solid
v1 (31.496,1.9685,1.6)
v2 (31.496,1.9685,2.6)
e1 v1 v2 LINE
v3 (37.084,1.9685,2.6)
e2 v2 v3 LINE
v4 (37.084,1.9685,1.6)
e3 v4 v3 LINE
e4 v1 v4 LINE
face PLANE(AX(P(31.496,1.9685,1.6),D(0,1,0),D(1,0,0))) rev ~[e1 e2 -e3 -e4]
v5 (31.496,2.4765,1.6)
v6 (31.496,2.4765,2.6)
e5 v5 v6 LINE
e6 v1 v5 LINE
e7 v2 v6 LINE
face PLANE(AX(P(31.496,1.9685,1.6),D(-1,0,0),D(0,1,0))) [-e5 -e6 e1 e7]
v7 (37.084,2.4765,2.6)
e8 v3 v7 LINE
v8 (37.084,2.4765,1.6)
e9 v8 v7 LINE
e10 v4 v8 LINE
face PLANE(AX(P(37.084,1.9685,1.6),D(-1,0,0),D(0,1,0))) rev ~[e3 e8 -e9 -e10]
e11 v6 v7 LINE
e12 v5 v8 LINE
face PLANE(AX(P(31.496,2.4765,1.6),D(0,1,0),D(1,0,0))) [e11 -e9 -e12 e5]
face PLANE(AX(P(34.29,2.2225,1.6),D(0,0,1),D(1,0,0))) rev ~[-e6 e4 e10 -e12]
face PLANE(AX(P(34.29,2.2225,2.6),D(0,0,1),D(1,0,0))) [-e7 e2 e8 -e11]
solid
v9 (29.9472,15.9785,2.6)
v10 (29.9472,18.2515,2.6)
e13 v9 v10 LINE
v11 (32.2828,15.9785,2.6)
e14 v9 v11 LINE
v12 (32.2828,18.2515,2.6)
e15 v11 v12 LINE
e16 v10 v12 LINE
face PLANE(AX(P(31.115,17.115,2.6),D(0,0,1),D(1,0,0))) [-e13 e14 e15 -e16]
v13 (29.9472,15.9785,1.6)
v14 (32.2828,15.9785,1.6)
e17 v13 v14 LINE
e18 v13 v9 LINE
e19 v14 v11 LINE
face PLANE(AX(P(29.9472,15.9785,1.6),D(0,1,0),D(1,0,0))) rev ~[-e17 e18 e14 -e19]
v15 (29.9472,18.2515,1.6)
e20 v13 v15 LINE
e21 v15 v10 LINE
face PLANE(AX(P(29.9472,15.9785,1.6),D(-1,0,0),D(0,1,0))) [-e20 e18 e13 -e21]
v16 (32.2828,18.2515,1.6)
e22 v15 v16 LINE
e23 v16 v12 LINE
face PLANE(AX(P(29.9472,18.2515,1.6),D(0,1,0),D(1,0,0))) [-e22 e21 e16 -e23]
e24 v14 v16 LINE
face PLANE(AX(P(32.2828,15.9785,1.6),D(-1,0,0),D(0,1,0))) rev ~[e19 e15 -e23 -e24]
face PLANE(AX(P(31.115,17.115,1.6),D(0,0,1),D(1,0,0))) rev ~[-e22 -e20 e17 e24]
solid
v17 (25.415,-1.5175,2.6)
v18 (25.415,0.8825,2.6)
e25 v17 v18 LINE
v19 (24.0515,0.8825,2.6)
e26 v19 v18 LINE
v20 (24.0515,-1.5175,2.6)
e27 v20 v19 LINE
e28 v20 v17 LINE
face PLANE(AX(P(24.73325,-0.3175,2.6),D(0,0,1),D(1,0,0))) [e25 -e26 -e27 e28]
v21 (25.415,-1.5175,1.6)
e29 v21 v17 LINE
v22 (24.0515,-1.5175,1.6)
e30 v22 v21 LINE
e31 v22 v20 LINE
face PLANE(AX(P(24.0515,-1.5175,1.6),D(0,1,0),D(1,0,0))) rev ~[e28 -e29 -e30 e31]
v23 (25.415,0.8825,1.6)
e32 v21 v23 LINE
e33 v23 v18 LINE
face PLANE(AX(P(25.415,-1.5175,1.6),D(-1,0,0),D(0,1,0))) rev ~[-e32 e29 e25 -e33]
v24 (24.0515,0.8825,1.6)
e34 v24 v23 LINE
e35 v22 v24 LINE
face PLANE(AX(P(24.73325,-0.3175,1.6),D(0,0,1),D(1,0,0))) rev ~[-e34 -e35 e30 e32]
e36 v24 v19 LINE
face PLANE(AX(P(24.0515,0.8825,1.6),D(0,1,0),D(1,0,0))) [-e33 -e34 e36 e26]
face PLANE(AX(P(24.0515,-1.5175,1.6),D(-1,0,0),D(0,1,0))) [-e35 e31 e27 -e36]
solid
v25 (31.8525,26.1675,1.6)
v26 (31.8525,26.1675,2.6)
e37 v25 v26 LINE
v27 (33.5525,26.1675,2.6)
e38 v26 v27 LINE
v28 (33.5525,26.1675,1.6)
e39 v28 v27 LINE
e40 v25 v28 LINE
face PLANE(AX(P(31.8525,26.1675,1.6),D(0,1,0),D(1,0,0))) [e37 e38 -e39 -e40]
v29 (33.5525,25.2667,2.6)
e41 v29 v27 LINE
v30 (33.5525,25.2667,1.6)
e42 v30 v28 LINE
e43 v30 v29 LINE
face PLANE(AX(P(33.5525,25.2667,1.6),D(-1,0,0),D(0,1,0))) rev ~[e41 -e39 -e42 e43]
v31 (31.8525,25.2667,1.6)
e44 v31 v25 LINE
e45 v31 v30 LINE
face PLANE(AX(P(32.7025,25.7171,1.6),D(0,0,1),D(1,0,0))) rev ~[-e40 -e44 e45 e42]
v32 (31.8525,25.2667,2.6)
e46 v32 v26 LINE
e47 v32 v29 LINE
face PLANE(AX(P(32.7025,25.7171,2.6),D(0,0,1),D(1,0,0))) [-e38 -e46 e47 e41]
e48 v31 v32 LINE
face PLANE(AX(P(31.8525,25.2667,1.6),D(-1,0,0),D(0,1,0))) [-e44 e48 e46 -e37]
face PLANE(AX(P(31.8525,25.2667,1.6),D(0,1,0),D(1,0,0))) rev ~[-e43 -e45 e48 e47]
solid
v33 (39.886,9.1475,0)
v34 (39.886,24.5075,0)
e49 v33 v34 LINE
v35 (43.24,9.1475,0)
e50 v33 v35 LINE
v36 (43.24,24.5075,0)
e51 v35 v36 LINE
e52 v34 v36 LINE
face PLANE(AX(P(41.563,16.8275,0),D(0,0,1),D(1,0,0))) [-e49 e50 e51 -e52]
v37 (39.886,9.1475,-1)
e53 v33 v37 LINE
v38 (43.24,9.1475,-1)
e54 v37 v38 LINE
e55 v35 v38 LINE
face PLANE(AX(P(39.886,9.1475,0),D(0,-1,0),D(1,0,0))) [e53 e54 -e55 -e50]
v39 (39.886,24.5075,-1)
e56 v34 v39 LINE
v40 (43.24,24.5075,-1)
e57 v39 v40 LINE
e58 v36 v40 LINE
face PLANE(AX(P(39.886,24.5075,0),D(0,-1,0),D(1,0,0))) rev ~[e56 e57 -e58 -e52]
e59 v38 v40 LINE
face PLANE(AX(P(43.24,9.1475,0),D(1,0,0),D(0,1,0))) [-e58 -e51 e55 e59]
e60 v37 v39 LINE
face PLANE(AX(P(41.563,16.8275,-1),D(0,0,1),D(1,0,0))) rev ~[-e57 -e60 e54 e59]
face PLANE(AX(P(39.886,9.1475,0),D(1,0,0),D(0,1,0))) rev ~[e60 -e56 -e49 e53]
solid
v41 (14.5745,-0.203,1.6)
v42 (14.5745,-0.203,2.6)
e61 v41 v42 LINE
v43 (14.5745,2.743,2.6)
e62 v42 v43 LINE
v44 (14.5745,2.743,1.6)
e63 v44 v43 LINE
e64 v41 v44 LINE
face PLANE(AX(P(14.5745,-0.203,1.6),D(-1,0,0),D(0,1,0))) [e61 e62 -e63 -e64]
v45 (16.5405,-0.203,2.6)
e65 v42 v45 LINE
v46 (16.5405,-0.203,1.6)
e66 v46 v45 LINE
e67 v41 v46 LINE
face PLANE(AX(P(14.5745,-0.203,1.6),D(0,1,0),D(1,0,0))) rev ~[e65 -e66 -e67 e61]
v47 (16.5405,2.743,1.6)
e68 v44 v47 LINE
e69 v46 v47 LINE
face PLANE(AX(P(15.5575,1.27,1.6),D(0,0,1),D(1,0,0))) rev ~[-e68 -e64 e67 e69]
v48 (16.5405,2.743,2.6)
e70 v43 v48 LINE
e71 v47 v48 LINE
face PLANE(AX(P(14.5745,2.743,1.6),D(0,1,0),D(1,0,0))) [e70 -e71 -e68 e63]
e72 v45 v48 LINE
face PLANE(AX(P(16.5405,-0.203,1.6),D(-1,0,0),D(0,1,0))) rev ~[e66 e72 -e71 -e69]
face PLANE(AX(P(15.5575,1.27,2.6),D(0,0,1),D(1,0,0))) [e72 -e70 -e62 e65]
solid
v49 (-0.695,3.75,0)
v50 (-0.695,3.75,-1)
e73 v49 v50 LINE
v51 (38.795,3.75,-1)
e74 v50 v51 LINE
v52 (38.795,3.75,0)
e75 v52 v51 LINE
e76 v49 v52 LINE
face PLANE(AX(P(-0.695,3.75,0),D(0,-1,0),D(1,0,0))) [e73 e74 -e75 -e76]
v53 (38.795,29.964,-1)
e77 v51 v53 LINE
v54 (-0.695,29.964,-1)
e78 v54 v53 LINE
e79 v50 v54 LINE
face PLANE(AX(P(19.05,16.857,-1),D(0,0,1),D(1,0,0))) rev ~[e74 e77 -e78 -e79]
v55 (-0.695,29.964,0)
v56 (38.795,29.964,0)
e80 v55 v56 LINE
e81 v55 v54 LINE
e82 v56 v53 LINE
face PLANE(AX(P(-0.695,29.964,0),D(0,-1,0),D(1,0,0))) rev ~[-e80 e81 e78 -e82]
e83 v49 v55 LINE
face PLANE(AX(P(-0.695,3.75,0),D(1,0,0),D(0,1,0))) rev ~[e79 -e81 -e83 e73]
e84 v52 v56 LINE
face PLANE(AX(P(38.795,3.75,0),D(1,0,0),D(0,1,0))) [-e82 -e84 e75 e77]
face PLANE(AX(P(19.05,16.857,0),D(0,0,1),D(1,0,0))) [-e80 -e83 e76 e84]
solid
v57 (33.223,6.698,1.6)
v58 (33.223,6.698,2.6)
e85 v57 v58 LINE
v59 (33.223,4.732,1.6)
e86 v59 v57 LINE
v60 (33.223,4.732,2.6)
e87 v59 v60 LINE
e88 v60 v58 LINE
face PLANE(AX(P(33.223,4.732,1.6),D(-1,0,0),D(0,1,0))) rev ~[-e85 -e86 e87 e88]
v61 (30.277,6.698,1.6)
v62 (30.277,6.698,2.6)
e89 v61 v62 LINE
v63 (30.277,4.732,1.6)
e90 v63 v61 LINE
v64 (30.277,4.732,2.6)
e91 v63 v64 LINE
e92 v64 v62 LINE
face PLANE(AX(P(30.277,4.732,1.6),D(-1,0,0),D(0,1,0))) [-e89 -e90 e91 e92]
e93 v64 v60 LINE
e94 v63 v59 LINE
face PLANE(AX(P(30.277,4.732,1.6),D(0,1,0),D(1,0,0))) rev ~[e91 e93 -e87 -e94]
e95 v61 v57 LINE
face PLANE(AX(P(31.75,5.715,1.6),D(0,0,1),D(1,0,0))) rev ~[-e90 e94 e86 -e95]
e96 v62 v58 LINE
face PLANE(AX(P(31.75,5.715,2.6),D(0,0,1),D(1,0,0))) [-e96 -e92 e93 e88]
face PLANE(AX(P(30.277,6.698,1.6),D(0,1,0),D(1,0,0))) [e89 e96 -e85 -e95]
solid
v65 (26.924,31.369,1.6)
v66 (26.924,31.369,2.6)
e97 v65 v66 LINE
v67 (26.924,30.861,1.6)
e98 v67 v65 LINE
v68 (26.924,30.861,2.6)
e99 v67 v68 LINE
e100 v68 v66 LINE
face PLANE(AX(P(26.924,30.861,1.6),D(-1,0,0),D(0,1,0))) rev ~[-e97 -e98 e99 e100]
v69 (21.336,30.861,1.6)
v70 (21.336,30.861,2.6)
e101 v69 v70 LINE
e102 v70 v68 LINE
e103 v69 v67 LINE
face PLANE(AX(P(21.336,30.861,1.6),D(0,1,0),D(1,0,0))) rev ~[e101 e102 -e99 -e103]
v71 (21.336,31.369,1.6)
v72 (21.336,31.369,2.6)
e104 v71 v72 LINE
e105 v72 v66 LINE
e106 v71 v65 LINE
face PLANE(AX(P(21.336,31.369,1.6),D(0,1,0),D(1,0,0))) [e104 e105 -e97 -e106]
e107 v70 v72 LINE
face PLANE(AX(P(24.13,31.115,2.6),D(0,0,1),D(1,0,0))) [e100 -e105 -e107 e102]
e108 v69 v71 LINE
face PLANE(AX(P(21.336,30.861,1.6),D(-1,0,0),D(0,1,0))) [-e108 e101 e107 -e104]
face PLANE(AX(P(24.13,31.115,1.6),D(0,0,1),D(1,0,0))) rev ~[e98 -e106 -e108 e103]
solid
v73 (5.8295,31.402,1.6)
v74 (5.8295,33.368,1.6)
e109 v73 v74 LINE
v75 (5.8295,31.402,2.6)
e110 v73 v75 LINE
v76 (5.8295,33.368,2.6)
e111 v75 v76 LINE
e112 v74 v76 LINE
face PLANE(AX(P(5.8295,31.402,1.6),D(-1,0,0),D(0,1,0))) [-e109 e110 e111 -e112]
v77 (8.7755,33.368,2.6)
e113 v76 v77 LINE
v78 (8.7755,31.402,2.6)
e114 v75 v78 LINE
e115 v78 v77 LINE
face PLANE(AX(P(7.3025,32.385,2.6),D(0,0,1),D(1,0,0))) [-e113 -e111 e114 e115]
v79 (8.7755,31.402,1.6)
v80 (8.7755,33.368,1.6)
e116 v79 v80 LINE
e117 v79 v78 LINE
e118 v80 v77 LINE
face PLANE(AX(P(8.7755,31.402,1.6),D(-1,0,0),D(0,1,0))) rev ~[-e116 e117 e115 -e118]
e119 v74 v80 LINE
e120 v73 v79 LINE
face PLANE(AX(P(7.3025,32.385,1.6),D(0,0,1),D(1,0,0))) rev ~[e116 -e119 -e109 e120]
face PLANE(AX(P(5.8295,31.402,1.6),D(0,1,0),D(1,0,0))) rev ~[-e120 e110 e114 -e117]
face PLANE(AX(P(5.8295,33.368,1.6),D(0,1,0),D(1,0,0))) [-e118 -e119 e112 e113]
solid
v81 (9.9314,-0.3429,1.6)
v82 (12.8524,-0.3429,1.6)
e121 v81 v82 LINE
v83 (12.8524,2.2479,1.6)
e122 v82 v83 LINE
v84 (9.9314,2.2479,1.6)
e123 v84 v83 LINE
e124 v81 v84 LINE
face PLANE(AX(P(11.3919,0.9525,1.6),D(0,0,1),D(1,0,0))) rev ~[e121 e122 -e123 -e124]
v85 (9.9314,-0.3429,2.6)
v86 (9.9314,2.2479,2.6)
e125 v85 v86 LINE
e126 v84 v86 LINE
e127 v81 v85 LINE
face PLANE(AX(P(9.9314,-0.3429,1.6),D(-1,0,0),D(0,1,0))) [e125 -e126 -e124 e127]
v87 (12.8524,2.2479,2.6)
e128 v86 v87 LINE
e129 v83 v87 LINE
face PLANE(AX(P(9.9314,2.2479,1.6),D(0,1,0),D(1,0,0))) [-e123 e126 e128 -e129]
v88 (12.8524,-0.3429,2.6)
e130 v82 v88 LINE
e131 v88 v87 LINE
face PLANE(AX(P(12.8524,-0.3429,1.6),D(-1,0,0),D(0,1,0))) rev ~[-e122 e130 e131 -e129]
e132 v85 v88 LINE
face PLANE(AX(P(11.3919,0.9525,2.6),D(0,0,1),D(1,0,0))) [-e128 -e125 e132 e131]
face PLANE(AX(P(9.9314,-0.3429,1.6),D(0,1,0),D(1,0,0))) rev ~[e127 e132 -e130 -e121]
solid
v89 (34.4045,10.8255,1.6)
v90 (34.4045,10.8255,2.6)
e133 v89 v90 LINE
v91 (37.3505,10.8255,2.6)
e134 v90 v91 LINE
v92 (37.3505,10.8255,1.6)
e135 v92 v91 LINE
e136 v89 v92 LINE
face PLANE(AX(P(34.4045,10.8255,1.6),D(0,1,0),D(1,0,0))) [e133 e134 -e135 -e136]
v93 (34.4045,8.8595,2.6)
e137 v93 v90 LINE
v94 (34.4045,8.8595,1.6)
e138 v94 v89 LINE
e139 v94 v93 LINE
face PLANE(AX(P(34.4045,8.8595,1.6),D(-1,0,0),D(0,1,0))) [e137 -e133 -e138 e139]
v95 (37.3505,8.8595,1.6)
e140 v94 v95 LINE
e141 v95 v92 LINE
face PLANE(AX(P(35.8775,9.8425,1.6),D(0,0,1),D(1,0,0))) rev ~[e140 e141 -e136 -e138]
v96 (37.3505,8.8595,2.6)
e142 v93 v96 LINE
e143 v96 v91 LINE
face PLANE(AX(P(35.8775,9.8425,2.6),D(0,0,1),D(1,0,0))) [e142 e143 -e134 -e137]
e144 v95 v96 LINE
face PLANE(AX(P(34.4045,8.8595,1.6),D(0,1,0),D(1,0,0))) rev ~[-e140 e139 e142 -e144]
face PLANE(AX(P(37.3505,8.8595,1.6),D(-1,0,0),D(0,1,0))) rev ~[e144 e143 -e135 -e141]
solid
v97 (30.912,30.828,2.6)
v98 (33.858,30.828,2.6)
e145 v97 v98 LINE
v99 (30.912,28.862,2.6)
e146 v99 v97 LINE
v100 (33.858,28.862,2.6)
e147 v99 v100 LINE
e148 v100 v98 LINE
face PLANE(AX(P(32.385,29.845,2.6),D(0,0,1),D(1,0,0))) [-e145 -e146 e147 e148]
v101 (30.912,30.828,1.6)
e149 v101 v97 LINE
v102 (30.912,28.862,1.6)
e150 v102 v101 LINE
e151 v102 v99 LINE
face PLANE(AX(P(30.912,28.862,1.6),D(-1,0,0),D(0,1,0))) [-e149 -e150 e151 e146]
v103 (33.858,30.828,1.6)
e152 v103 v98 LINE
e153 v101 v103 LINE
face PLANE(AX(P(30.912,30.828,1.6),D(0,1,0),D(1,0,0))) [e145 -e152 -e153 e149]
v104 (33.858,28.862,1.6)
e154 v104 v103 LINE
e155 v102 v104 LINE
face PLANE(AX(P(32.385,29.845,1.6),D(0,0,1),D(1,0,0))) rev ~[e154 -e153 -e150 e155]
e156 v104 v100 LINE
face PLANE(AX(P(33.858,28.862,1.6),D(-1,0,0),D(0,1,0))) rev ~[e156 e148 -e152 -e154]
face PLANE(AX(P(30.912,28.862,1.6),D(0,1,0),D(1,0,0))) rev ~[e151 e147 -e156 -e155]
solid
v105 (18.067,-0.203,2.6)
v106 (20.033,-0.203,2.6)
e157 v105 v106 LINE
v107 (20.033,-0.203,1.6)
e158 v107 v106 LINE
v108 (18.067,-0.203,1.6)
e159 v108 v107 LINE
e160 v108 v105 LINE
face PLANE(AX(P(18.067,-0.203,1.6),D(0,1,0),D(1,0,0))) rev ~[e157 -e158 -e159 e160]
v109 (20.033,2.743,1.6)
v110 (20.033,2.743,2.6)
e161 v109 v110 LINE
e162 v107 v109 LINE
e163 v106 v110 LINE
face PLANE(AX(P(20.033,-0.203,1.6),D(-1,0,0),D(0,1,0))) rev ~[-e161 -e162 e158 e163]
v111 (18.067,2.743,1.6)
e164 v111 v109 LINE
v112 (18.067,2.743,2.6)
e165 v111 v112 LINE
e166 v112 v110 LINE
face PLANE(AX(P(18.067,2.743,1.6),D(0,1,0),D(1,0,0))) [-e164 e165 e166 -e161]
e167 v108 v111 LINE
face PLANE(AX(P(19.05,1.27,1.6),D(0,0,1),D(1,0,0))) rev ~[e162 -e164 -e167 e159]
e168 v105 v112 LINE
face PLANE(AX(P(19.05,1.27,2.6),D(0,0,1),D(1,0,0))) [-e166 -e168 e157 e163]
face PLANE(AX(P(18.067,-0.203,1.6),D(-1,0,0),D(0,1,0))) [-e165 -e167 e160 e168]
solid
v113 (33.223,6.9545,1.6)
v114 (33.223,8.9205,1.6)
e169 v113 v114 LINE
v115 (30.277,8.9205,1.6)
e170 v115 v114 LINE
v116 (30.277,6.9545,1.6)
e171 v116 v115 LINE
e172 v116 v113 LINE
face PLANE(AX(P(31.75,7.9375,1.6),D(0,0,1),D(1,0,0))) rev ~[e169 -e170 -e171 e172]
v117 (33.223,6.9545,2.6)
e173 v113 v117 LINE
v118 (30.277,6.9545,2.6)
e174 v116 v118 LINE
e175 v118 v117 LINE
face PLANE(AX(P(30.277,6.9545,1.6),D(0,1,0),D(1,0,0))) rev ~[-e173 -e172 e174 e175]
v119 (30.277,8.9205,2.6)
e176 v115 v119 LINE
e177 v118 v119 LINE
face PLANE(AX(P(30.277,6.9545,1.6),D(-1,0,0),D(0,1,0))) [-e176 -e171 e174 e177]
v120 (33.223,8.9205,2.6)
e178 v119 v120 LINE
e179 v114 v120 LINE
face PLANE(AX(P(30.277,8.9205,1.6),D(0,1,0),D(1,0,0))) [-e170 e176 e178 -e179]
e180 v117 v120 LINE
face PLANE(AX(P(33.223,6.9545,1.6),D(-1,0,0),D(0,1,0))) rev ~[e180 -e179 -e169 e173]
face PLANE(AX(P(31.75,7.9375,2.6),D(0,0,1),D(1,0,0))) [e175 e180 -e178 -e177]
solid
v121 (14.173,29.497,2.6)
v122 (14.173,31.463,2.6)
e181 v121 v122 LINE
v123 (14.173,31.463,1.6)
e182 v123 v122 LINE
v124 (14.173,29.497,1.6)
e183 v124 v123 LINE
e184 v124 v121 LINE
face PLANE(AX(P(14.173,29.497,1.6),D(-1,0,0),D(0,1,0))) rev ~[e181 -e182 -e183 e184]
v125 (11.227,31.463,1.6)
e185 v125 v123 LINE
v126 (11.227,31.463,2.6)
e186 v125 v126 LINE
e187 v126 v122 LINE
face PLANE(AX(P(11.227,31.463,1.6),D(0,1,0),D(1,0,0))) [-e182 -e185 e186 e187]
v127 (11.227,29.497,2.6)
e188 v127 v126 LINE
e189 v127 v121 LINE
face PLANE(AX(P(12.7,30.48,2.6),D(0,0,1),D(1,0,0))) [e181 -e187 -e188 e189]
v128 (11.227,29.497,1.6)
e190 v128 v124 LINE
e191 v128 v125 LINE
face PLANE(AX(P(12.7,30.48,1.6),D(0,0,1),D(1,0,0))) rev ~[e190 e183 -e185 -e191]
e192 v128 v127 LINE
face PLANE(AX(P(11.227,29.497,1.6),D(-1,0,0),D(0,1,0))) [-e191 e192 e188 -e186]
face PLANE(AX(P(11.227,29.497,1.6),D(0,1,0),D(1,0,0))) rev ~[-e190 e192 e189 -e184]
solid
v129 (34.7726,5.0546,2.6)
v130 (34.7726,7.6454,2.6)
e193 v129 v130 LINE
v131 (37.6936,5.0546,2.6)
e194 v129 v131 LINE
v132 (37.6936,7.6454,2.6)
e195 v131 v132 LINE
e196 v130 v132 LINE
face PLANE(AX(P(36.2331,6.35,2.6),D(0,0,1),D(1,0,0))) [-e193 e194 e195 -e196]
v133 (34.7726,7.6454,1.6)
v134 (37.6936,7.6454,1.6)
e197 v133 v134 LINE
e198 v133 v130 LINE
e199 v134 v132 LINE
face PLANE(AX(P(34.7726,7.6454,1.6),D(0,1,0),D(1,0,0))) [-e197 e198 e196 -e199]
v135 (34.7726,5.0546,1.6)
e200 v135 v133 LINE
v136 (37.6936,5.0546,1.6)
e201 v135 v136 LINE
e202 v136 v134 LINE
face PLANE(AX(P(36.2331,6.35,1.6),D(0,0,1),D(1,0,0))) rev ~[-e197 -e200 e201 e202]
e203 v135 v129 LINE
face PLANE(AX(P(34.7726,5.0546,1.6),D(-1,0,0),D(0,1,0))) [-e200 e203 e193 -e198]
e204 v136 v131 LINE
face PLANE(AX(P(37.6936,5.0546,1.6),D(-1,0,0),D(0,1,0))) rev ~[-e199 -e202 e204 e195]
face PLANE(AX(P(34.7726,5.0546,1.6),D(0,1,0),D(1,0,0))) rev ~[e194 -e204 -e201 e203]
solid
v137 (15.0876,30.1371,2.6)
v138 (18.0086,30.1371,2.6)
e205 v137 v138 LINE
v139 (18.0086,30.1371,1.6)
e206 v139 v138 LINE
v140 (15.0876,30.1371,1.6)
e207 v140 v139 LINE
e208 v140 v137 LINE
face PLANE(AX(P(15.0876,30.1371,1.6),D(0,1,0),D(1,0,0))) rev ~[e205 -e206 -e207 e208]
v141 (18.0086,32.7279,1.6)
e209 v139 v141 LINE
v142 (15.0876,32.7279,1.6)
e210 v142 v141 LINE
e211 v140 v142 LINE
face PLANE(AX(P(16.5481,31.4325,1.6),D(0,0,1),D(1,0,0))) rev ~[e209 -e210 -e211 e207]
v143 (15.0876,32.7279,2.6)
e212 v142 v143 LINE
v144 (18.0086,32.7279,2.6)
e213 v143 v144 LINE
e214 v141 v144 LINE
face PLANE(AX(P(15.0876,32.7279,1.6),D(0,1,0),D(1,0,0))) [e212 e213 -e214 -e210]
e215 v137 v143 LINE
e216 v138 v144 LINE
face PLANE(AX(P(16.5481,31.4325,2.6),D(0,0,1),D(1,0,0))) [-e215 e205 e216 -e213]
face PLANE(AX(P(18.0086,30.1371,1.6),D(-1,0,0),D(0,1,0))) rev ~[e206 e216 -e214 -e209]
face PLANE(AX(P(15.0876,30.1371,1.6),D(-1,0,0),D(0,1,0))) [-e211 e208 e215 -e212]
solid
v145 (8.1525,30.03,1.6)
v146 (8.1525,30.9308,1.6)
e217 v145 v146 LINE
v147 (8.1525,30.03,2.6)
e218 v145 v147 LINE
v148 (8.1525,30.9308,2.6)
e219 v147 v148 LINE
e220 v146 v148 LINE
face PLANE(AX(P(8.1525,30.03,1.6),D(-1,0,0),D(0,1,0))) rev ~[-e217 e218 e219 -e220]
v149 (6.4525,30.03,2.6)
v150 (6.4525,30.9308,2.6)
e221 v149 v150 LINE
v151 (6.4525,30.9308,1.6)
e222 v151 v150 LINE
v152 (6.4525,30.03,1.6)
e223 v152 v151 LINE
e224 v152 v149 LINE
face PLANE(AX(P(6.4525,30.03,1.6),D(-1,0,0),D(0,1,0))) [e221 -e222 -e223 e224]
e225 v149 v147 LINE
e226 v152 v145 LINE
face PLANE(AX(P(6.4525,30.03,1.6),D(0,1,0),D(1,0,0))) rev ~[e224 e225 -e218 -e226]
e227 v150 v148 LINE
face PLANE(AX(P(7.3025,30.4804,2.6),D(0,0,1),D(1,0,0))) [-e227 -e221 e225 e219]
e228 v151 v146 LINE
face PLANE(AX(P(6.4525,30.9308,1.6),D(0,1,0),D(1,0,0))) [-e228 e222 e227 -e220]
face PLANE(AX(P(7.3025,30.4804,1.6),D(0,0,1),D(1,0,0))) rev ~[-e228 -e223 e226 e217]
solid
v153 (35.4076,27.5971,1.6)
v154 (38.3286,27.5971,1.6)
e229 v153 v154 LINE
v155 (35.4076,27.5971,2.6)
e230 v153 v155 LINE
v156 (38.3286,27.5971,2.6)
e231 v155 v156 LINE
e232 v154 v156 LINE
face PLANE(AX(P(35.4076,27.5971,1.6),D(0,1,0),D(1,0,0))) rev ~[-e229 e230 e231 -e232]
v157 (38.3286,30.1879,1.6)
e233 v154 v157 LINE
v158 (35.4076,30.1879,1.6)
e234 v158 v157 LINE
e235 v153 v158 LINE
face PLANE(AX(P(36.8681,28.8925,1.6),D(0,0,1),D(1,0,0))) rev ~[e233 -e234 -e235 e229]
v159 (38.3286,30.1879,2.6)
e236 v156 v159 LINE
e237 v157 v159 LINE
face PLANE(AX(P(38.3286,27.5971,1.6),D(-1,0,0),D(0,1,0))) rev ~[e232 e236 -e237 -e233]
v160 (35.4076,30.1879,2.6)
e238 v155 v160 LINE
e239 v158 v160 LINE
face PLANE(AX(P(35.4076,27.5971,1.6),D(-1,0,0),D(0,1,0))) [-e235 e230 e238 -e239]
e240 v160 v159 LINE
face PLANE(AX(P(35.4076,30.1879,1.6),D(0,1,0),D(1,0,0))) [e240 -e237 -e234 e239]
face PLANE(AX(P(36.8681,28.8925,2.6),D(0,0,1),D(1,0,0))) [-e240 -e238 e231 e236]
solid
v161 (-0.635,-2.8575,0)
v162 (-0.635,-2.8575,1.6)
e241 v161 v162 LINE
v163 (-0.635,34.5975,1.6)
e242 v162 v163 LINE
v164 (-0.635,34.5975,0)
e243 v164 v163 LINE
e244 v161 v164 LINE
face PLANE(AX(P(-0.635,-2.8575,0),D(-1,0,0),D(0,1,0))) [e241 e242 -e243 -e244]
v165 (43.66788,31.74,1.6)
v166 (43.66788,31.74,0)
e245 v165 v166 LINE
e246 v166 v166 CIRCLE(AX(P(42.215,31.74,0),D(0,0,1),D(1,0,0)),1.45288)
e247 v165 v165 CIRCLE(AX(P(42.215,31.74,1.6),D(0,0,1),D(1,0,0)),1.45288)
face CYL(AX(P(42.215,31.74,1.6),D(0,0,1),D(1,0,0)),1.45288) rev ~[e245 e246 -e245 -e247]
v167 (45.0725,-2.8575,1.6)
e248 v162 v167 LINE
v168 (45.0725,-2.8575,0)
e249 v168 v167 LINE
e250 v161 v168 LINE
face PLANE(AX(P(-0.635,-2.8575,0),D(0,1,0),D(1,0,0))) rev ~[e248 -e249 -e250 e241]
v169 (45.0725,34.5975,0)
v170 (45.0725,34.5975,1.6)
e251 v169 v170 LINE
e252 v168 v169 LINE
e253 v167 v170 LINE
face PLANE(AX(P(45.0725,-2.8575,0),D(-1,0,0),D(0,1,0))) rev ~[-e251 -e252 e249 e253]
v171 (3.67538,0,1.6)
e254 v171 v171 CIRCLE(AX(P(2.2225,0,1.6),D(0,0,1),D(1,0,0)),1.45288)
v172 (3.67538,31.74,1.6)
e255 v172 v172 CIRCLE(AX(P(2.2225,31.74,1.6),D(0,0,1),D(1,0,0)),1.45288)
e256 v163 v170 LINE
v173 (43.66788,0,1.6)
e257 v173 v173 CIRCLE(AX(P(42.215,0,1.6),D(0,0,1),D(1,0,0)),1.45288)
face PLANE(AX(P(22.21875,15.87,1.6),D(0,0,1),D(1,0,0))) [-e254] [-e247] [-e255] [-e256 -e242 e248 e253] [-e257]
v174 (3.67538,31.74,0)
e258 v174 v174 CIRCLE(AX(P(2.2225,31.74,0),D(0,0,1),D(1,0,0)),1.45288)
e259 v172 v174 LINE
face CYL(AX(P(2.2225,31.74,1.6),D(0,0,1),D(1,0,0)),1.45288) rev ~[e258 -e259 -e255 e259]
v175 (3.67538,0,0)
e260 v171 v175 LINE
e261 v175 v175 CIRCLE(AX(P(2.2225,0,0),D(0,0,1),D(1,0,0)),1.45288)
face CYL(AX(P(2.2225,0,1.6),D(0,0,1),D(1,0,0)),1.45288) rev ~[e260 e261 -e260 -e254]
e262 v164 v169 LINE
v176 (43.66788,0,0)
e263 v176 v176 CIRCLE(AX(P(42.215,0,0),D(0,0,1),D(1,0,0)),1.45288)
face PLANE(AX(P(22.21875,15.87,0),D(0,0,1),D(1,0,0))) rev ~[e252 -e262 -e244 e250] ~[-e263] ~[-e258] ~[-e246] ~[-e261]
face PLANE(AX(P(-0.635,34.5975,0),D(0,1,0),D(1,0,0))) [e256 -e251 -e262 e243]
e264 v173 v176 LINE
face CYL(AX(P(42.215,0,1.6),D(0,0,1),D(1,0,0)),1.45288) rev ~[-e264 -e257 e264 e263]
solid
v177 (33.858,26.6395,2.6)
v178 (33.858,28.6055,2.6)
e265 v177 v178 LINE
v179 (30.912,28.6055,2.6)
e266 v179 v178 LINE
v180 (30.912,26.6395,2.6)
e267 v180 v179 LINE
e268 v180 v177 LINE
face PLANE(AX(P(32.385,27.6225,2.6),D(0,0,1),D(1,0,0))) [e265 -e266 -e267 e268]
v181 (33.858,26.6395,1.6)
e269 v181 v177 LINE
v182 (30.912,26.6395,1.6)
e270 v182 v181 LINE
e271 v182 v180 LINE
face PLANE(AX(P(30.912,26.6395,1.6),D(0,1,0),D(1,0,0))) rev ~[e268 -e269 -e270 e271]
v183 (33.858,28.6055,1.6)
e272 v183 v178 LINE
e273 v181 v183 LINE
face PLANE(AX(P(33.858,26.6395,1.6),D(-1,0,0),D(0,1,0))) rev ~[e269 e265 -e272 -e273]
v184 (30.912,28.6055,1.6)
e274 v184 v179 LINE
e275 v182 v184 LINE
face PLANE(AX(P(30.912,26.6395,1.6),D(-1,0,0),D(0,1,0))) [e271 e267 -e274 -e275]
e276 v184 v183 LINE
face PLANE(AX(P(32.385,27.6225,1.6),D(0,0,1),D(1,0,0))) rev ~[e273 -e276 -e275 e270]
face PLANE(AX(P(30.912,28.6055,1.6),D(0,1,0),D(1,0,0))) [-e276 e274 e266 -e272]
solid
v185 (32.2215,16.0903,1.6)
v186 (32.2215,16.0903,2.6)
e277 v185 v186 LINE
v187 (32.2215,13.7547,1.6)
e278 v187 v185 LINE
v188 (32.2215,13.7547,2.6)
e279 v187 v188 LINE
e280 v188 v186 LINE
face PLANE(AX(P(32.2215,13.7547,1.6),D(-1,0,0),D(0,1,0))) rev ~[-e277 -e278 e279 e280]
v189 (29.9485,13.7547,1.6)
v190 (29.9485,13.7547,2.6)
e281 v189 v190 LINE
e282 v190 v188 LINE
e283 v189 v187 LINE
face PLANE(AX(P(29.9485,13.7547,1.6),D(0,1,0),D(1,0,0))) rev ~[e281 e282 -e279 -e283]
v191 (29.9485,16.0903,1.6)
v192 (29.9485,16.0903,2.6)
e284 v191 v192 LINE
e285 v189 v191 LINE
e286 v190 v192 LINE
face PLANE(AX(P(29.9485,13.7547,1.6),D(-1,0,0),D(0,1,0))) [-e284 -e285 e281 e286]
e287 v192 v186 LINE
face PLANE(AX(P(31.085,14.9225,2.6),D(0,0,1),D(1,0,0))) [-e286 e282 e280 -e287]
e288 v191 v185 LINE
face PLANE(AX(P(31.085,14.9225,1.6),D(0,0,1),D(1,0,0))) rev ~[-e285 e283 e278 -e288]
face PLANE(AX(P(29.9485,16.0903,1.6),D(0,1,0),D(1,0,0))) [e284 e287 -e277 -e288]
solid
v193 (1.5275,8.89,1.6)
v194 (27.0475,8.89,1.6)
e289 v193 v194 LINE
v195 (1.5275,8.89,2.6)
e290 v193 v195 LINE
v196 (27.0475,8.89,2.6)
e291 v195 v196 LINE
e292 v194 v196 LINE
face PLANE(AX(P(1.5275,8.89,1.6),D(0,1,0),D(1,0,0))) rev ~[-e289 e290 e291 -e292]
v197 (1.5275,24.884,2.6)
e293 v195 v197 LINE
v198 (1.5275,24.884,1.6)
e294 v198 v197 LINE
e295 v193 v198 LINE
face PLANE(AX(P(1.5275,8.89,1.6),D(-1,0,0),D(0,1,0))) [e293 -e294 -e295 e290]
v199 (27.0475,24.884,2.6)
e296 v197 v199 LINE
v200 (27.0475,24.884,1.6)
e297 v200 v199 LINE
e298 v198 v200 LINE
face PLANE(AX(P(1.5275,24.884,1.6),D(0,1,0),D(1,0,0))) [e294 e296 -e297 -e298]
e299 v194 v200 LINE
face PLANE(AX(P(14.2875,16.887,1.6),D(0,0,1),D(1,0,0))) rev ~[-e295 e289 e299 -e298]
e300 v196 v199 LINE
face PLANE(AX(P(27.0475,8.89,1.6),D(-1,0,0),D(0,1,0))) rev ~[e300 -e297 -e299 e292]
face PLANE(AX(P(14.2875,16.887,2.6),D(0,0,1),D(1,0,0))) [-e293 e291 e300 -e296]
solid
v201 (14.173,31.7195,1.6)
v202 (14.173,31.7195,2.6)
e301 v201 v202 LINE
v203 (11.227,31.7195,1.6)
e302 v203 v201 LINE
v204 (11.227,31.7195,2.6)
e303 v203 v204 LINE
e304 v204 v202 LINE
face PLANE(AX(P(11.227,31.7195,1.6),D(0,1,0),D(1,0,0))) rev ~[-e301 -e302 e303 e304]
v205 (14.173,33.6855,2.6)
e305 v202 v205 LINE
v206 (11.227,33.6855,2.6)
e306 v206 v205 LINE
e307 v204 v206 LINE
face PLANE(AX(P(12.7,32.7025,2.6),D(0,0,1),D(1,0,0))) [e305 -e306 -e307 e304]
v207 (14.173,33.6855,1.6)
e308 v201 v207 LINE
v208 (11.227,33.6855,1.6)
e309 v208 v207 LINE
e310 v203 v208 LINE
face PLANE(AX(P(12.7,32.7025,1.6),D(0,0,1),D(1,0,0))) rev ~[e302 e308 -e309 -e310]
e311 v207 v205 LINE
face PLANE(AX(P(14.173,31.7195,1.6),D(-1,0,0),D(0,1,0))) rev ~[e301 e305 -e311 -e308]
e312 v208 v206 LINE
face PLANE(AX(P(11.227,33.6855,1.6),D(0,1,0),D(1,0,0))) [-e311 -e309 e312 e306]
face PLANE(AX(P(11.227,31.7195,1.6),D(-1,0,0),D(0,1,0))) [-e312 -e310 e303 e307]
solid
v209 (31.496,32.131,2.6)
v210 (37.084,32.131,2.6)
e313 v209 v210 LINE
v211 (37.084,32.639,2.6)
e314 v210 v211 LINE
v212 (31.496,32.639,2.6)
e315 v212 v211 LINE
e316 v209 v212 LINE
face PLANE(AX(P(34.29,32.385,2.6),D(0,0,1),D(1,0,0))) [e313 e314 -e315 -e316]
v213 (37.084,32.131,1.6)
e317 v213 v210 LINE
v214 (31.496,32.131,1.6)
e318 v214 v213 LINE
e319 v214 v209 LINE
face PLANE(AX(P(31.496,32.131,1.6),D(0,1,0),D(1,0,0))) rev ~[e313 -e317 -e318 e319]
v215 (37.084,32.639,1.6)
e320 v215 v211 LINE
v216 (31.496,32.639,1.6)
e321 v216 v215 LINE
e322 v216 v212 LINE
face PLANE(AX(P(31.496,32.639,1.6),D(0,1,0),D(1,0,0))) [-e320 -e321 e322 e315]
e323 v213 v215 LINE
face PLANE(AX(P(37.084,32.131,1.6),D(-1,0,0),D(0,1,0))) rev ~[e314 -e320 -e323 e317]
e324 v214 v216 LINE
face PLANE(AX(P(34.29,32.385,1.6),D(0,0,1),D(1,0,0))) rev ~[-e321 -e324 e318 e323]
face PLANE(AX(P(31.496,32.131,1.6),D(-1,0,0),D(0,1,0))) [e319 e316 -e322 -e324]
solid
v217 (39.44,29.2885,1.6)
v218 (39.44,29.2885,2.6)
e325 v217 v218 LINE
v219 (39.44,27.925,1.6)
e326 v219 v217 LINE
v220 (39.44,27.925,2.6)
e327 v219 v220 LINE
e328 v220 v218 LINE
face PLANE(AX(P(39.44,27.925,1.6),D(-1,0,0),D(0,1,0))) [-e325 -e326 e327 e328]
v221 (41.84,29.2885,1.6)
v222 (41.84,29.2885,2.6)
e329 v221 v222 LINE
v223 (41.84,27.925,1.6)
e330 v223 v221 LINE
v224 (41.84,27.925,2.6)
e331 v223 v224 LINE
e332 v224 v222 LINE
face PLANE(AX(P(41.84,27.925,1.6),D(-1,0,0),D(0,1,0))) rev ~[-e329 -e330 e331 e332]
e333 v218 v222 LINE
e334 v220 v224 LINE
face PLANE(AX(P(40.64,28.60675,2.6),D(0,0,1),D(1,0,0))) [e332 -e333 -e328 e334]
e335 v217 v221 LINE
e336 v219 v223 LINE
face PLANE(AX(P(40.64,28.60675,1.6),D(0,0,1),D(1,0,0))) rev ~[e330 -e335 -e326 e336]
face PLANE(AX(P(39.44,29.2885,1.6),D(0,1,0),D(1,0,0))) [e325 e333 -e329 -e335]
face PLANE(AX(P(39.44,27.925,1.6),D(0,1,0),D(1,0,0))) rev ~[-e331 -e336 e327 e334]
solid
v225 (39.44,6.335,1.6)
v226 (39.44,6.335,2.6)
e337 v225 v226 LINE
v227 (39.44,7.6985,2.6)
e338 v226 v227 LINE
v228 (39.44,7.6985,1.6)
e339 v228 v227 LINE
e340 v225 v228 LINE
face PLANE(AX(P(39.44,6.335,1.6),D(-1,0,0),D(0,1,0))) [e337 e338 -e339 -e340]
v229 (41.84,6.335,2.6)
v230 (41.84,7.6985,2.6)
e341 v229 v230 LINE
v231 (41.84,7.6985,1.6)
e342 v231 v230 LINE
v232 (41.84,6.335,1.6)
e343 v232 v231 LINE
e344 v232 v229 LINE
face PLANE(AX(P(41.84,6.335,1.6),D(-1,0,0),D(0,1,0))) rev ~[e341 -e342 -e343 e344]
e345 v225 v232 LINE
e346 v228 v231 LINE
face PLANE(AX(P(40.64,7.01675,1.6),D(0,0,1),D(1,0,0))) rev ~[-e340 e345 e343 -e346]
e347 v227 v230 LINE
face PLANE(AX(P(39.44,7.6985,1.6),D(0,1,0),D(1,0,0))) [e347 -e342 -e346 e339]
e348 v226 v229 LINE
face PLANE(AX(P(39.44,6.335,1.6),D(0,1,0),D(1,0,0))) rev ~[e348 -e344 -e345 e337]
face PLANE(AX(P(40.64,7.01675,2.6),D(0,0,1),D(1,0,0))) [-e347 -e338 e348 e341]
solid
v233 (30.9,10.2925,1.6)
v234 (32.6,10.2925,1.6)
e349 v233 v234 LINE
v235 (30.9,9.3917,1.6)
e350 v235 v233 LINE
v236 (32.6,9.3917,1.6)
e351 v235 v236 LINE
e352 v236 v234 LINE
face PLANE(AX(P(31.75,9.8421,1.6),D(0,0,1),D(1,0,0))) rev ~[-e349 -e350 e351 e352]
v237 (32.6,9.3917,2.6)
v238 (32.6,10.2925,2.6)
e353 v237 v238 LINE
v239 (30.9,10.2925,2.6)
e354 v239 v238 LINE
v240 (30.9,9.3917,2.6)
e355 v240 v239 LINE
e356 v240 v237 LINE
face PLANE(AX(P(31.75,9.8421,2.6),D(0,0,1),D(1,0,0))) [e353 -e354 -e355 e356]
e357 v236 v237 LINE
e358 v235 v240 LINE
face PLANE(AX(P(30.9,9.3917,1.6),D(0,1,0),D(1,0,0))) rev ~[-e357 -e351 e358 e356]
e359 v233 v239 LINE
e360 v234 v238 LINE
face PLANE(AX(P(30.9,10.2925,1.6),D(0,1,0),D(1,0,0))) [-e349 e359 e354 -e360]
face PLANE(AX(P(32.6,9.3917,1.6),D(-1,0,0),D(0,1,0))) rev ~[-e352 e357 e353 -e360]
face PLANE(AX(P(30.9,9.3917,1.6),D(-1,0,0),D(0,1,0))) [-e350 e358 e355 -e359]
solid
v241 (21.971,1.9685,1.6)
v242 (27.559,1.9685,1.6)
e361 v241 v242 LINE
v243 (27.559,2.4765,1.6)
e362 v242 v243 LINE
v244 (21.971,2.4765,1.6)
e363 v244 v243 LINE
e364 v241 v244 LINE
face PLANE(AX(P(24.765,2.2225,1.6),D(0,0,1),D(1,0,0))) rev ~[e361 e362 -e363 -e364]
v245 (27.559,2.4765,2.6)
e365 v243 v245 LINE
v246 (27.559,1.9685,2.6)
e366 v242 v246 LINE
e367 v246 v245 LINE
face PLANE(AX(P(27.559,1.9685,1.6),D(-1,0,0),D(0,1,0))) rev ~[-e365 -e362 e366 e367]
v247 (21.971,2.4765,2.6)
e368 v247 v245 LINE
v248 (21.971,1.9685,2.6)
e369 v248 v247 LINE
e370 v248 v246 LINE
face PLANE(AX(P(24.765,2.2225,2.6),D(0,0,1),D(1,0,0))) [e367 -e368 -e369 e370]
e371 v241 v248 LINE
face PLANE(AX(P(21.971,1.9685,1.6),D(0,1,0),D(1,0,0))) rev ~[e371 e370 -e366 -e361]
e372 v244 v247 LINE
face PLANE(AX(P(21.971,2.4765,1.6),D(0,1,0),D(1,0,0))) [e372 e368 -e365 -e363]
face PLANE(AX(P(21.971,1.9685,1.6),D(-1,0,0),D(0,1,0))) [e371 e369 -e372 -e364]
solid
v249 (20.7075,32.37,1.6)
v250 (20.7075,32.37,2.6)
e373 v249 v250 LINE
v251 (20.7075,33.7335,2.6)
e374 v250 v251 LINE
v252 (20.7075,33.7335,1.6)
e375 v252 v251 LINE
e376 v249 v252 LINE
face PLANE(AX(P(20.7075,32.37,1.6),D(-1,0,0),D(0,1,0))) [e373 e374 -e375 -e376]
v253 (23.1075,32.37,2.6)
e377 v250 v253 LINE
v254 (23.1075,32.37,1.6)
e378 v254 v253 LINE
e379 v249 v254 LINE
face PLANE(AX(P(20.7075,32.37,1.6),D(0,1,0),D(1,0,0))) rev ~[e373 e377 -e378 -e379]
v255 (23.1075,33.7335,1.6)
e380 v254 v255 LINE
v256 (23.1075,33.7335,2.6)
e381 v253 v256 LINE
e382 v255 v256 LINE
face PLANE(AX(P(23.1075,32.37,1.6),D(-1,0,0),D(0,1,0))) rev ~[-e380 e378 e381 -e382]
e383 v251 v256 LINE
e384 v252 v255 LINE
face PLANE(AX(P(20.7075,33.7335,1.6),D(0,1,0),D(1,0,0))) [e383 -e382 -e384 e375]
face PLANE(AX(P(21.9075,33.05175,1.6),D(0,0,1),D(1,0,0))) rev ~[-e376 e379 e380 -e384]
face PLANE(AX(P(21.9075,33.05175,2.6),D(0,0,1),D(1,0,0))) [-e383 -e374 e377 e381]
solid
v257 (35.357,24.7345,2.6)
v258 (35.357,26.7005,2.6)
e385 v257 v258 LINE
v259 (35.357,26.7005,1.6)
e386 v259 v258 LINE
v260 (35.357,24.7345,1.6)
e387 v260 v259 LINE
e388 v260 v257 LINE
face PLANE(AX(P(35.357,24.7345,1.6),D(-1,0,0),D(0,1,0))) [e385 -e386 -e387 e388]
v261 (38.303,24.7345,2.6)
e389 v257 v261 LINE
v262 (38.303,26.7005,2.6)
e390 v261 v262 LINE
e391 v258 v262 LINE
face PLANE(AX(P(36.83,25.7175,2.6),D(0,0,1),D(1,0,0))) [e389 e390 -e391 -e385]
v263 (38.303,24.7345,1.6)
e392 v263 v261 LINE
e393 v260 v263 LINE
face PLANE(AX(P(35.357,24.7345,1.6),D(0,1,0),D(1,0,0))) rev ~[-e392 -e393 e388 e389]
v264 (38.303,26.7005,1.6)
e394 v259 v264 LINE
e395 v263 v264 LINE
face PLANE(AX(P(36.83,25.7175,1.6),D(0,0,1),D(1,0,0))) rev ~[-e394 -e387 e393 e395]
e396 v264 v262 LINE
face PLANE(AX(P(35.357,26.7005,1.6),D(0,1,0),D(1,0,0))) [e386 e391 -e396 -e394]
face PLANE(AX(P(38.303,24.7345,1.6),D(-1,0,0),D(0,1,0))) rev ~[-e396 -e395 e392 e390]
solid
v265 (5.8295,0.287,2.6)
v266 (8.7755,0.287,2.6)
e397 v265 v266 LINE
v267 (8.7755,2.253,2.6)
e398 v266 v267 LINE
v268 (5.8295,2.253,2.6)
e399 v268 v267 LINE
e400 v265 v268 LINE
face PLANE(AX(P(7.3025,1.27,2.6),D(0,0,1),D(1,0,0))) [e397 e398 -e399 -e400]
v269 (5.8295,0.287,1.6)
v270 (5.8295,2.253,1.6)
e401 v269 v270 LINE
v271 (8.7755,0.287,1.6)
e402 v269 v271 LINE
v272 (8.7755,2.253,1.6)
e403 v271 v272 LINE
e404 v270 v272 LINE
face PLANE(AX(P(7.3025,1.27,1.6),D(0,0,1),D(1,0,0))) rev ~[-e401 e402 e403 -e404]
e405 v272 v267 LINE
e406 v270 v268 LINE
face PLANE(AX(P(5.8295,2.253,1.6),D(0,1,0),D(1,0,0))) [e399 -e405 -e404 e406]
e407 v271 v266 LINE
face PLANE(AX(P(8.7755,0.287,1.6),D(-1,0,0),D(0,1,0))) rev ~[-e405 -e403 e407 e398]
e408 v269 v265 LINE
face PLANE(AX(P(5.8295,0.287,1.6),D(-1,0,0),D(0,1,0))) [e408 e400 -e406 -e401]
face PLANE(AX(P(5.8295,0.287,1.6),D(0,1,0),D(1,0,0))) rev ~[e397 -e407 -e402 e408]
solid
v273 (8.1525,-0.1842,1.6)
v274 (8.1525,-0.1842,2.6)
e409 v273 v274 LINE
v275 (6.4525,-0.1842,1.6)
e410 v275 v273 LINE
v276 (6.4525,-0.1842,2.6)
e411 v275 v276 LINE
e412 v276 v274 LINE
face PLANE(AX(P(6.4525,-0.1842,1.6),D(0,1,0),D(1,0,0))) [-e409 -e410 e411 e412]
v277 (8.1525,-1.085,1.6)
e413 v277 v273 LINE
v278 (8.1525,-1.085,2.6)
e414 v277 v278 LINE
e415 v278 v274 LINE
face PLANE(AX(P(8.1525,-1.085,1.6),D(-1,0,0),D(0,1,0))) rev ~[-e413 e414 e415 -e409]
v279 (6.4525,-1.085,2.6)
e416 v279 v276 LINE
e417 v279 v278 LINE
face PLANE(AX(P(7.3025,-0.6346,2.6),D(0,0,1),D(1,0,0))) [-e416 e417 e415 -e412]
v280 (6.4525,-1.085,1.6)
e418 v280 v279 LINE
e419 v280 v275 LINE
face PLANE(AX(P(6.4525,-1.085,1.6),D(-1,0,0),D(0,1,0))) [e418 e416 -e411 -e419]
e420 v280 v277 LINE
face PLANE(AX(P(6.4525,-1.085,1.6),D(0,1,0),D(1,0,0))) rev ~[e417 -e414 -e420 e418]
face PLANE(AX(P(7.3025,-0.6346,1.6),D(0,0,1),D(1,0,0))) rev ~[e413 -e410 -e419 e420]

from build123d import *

# Parameters (mm, degrees)
SKETCH1_W                                      = 45.7075
SKETCH1_H                                      = 37.455
BOARD_DEPTH                                    = 1.6
SKETCH2_W                                      = 2.273
SKETCH2_H                                      = 2.3356
HDRV1W64P0_1X1_193X193X447B_1_DEPTH            = 1
SKETCH3_W                                      = 2.3356
SKETCH3_H                                      = 2.273
HDRV1W64P0_1X1_193X193X447B_2_DEPTH            = 1
SKETCH4_W                                      = 2.4
SKETCH4_H                                      = 1.3635
SOD_323F_1_DEPTH                               = 1
SKETCH5_W                                      = 1.3635
SKETCH5_H                                      = 2.4
SOD_323F_2_DEPTH                               = 1
SKETCH6_W                                      = 2.4
SKETCH6_H                                      = 1.3635
SOD_323F_3_DEPTH                               = 1
SKETCH7_W                                      = 2.4
SKETCH7_H                                      = 1.3635
SOD_323F_4_DEPTH                               = 1
SKETCH8_W                                      = 5.588
SKETCH8_H                                      = 0.508
F_1X03_CLEANBIG_1_DEPTH                        = 1
SKETCH9_W                                      = 5.588
SKETCH9_H                                      = 0.508
F_1X03_CLEANBIG_2_DEPTH                        = 1
SKETCH10_W                                     = 5.588
SKETCH10_H                                     = 0.508
F_1X03_CLEANBIG_3_DEPTH                        = 1
SKETCH11_W                                     = 5.588
SKETCH11_H                                     = 0.508
F_1X03_CLEANBIG_4_DEPTH                        = 1
SKETCH12_W                                     = 1.7
SKETCH12_H                                     = 0.9008
CHIP_LED0603_1_DEPTH                           = 1
SKETCH13_W                                     = 1.7
SKETCH13_H                                     = 0.9008
CHIP_LED0603_2_DEPTH                           = 1
SKETCH14_W                                     = 1.7
SKETCH14_H                                     = 0.9008
CHIP_LED0603_3_DEPTH                           = 1
SKETCH15_W                                     = 1.7
SKETCH15_H                                     = 0.9008
CHIP_LED0603_4_DEPTH                           = 1
SKETCH16_W                                     = 2.921
SKETCH16_H                                     = 2.5908
SOT23_1_DEPTH                                  = 1
SKETCH17_W                                     = 2.921
SKETCH17_H                                     = 2.5908
SOT23_2_DEPTH                                  = 1
SKETCH18_W                                     = 2.921
SKETCH18_H                                     = 2.5908
SOT23_3_DEPTH                                  = 1
SKETCH19_W                                     = 2.921
SKETCH19_H                                     = 2.5908
SOT23_4_DEPTH                                  = 1
SKETCH20_W                                     = 2.946
SKETCH20_H                                     = 1.966
EXTRUDE_R0603_1_DEPTH                          = 1
SKETCH21_W                                     = 2.946
SKETCH21_H                                     = 1.966
EXTRUDE_R0603_2_DEPTH                          = 1
SKETCH22_W                                     = 2.946
SKETCH22_H                                     = 1.966
EXTRUDE_R0603_3_DEPTH                          = 1
SKETCH23_W                                     = 1.966
SKETCH23_H                                     = 2.946
EXTRUDE_R0603_4_DEPTH                          = 1
SKETCH24_W                                     = 1.966
SKETCH24_H                                     = 2.946
EXTRUDE_R0603_5_DEPTH                          = 1
SKETCH25_W                                     = 2.946
SKETCH25_H                                     = 1.966
EXTRUDE_R0603_6_DEPTH                          = 1
SKETCH26_W                                     = 2.946
SKETCH26_H                                     = 1.966
EXTRUDE_R0603_7_DEPTH                          = 1
SKETCH27_W                                     = 2.946
SKETCH27_H                                     = 1.966
EXTRUDE_R0603_8_DEPTH                          = 1
SKETCH28_W                                     = 2.946
SKETCH28_H                                     = 1.966
EXTRUDE_R0603_9_DEPTH                          = 1
SKETCH29_W                                     = 2.946
SKETCH29_H                                     = 1.966
EXTRUDE_R0603_10_DEPTH                         = 1
SKETCH30_W                                     = 2.946
SKETCH30_H                                     = 1.966
EXTRUDE_R0603_11_DEPTH                         = 1
SKETCH31_W                                     = 2.946
SKETCH31_H                                     = 1.966
EXTRUDE_R0603_12_DEPTH                         = 1
SKETCH32_W                                     = 25.52
SKETCH32_H                                     = 15.994
HDRVR10W64P254_1X10_2540X254X254B_1_DEPTH      = 1
SKETCH33_W                                     = 39.49
SKETCH33_H                                     = 26.214
HDRVR16W64P2286X254_2X8_2032X2540X254B_1_DEPTH = 1
SKETCH34_W                                     = 3.354
SKETCH34_H                                     = 15.36
HDRVR6W64P254_1X6_1524X254X762B_1_DEPTH        = 1
SKETCH35_R                                     = 1.45288
CUT_EXTRUDE1_DEPTH                             = 57.879497734


with BuildPart() as part:
    # Sketch1 → BOARD (new body)
    with BuildSketch(Plane.XY):
        with Locations((22.21875, 15.87)):
            Rectangle(SKETCH1_W, SKETCH1_H)
    extrude(amount=BOARD_DEPTH)

    # Sketch35 → Cut-Extrude1 (cut, through all)
    with BuildSketch(Plane.XY.offset(1.6)):
        with Locations((2.2225, 31.74)):
            Circle(SKETCH35_R)
        with Locations((42.215, 31.74)):
            Circle(SKETCH35_R)
        with Locations((42.215, 0)):
            Circle(SKETCH35_R)
        with Locations((2.2225, 0)):
            Circle(SKETCH35_R)
    extrude(amount=-CUT_EXTRUDE1_DEPTH, mode=Mode.SUBTRACT)


with BuildPart() as body_2:
    # Sketch2 → HDRV1W64P0_1X1_193X193X447B-1 (new body)
    with BuildSketch(Plane.XY.offset(1.6)):
        with Locations((31.085, 14.9225)):
            Rectangle(SKETCH2_W, SKETCH2_H)
    extrude(amount=HDRV1W64P0_1X1_193X193X447B_1_DEPTH)


with BuildPart() as body_3:
    # Sketch3 → HDRV1W64P0_1X1_193X193X447B-2 (new body)
    with BuildSketch(Plane.XY.offset(1.6)):
        with Locations((31.115, 17.115)):
            Rectangle(SKETCH3_W, SKETCH3_H)
    extrude(amount=HDRV1W64P0_1X1_193X193X447B_2_DEPTH)


with BuildPart() as body_4:
    # Sketch4 → SOD-323F-1 (new body)
    with BuildSketch(Plane.XY.offset(1.6)):
        with Locations((21.9075, 33.05175)):
            Rectangle(SKETCH4_W, SKETCH4_H)
    extrude(amount=SOD_323F_1_DEPTH)


with BuildPart() as body_5:
    # Sketch5 → SOD-323F-2 (new body)
    with BuildSketch(Plane.XY.offset(1.6)):
        with Locations((24.73325, -0.3175)):
            Rectangle(SKETCH5_W, SKETCH5_H)
    extrude(amount=SOD_323F_2_DEPTH)


with BuildPart() as body_6:
    # Sketch6 → SOD-323F-3 (new body)
    with BuildSketch(Plane.XY.offset(1.6)):
        with Locations((40.64, 28.60675)):
            Rectangle(SKETCH6_W, SKETCH6_H)
    extrude(amount=SOD_323F_3_DEPTH)


with BuildPart() as body_7:
    # Sketch7 → SOD-323F-4 (new body)
    with BuildSketch(Plane.XY.offset(1.6)):
        with Locations((40.64, 7.01675)):
            Rectangle(SKETCH7_W, SKETCH7_H)
    extrude(amount=SOD_323F_4_DEPTH)


with BuildPart() as body_8:
    # Sketch8 → 1X03-CLEANBIG-1 (new body)
    with BuildSketch(Plane.XY.offset(1.6)):
        with Locations((24.13, 31.115)):
            Rectangle(SKETCH8_W, SKETCH8_H)
    extrude(amount=F_1X03_CLEANBIG_1_DEPTH)


with BuildPart() as body_9:
    # Sketch9 → 1X03-CLEANBIG-2 (new body)
    with BuildSketch(Plane.XY.offset(1.6)):
        with Locations((24.765, 2.2225)):
            Rectangle(SKETCH9_W, SKETCH9_H)
    extrude(amount=F_1X03_CLEANBIG_2_DEPTH)


with BuildPart() as body_10:
    # Sketch10 → 1X03-CLEANBIG-3 (new body)
    with BuildSketch(Plane.XY.offset(1.6)):
        with Locations((34.29, 32.385)):
            Rectangle(SKETCH10_W, SKETCH10_H)
    extrude(amount=F_1X03_CLEANBIG_3_DEPTH)


with BuildPart() as body_11:
    # Sketch11 → 1X03-CLEANBIG-4 (new body)
    with BuildSketch(Plane.XY.offset(1.6)):
        with Locations((34.29, 2.2225)):
            Rectangle(SKETCH11_W, SKETCH11_H)
    extrude(amount=F_1X03_CLEANBIG_4_DEPTH)


with BuildPart() as body_12:
    # Sketch12 → CHIP-LED0603-1 (new body)
    with BuildSketch(Plane.XY.offset(1.6)):
        with Locations((7.3025, 30.4804)):
            Rectangle(SKETCH12_W, SKETCH12_H)
    extrude(amount=CHIP_LED0603_1_DEPTH)


with BuildPart() as body_13:
    # Sketch13 → CHIP-LED0603-2 (new body)
    with BuildSketch(Plane.XY.offset(1.6)):
        with Locations((7.3025, -0.6346)):
            Rectangle(SKETCH13_W, SKETCH13_H)
    extrude(amount=CHIP_LED0603_2_DEPTH)


with BuildPart() as body_14:
    # Sketch14 → CHIP-LED0603-3 (new body)
    with BuildSketch(Plane.XY.offset(1.6)):
        with Locations((32.7025, 25.7171)):
            Rectangle(SKETCH14_W, SKETCH14_H)
    extrude(amount=CHIP_LED0603_3_DEPTH)


with BuildPart() as body_15:
    # Sketch15 → CHIP-LED0603-4 (new body)
    with BuildSketch(Plane.XY.offset(1.6)):
        with Locations((31.75, 9.8421)):
            Rectangle(SKETCH15_W, SKETCH15_H)
    extrude(amount=CHIP_LED0603_4_DEPTH)


with BuildPart() as body_16:
    # Sketch16 → SOT23-1 (new body)
    with BuildSketch(Plane.XY.offset(1.6)):
        with Locations((16.5481, 31.4325)):
            Rectangle(SKETCH16_W, SKETCH16_H)
    extrude(amount=SOT23_1_DEPTH)


with BuildPart() as body_17:
    # Sketch17 → SOT23-2 (new body)
    with BuildSketch(Plane.XY.offset(1.6)):
        with Locations((11.3919, 0.9525)):
            Rectangle(SKETCH17_W, SKETCH17_H)
    extrude(amount=SOT23_2_DEPTH)


with BuildPart() as body_18:
    # Sketch18 → SOT23-3 (new body)
    with BuildSketch(Plane.XY.offset(1.6)):
        with Locations((36.8681, 28.8925)):
            Rectangle(SKETCH18_W, SKETCH18_H)
    extrude(amount=SOT23_3_DEPTH)


with BuildPart() as body_19:
    # Sketch19 → SOT23-4 (new body)
    with BuildSketch(Plane.XY.offset(1.6)):
        with Locations((36.2331, 6.35)):
            Rectangle(SKETCH19_W, SKETCH19_H)
    extrude(amount=SOT23_4_DEPTH)


with BuildPart() as body_20:
    # Sketch20 → Extrude R0603-1 (new body)
    with BuildSketch(Plane.XY.offset(1.6)):
        with Locations((12.7, 30.48)):
            Rectangle(SKETCH20_W, SKETCH20_H)
    extrude(amount=EXTRUDE_R0603_1_DEPTH)


with BuildPart() as body_21:
    # Sketch21 → Extrude R0603-2 (new body)
    with BuildSketch(Plane.XY.offset(1.6)):
        with Locations((12.7, 32.7025)):
            Rectangle(SKETCH21_W, SKETCH21_H)
    extrude(amount=EXTRUDE_R0603_2_DEPTH)


with BuildPart() as body_22:
    # Sketch22 → Extrude R0603-3 (new body)
    with BuildSketch(Plane.XY.offset(1.6)):
        with Locations((7.3025, 32.385)):
            Rectangle(SKETCH22_W, SKETCH22_H)
    extrude(amount=EXTRUDE_R0603_3_DEPTH)


with BuildPart() as body_23:
    # Sketch23 → Extrude R0603-4 (new body)
    with BuildSketch(Plane.XY.offset(1.6)):
        with Locations((19.05, 1.27)):
            Rectangle(SKETCH23_W, SKETCH23_H)
    extrude(amount=EXTRUDE_R0603_4_DEPTH)


with BuildPart() as body_24:
    # Sketch24 → Extrude R0603-5 (new body)
    with BuildSketch(Plane.XY.offset(1.6)):
        with Locations((15.5575, 1.27)):
            Rectangle(SKETCH24_W, SKETCH24_H)
    extrude(amount=EXTRUDE_R0603_5_DEPTH)


with BuildPart() as body_25:
    # Sketch25 → Extrude R0603-6 (new body)
    with BuildSketch(Plane.XY.offset(1.6)):
        with Locations((7.3025, 1.27)):
            Rectangle(SKETCH25_W, SKETCH25_H)
    extrude(amount=EXTRUDE_R0603_6_DEPTH)


with BuildPart() as body_26:
    # Sketch26 → Extrude R0603-7 (new body)
    with BuildSketch(Plane.XY.offset(1.6)):
        with Locations((32.385, 29.845)):
            Rectangle(SKETCH26_W, SKETCH26_H)
    extrude(amount=EXTRUDE_R0603_7_DEPTH)


with BuildPart() as body_27:
    # Sketch27 → Extrude R0603-8 (new body)
    with BuildSketch(Plane.XY.offset(1.6)):
        with Locations((36.83, 25.7175)):
            Rectangle(SKETCH27_W, SKETCH27_H)
    extrude(amount=EXTRUDE_R0603_8_DEPTH)


with BuildPart() as body_28:
    # Sketch28 → Extrude R0603-9 (new body)
    with BuildSketch(Plane.XY.offset(1.6)):
        with Locations((32.385, 27.6225)):
            Rectangle(SKETCH28_W, SKETCH28_H)
    extrude(amount=EXTRUDE_R0603_9_DEPTH)


with BuildPart() as body_29:
    # Sketch29 → Extrude R0603-10 (new body)
    with BuildSketch(Plane.XY.offset(1.6)):
        with Locations((31.75, 5.715)):
            Rectangle(SKETCH29_W, SKETCH29_H)
    extrude(amount=EXTRUDE_R0603_10_DEPTH)


with BuildPart() as body_30:
    # Sketch30 → Extrude R0603-11 (new body)
    with BuildSketch(Plane.XY.offset(1.6)):
        with Locations((35.8775, 9.8425)):
            Rectangle(SKETCH30_W, SKETCH30_H)
    extrude(amount=EXTRUDE_R0603_11_DEPTH)


with BuildPart() as body_31:
    # Sketch31 → Extrude R0603-12 (new body)
    with BuildSketch(Plane.XY.offset(1.6)):
        with Locations((31.75, 7.9375)):
            Rectangle(SKETCH31_W, SKETCH31_H)
    extrude(amount=EXTRUDE_R0603_12_DEPTH)


with BuildPart() as body_32:
    # Sketch32 → HDRVR10W64P254_1X10_2540X254X254B-1 (new body)
    with BuildSketch(Plane.XY.offset(1.6)):
        with Locations((14.2875, 16.887)):
            Rectangle(SKETCH32_W, SKETCH32_H)
    extrude(amount=HDRVR10W64P254_1X10_2540X254X254B_1_DEPTH)


with BuildPart() as body_33:
    # Sketch33 → HDRVR16W64P2286X254_2X8_2032X2540X254B-1 (new body)
    with BuildSketch(Plane.XY):
        with Locations((19.05, 16.857)):
            Rectangle(SKETCH33_W, SKETCH33_H)
    extrude(amount=-HDRVR16W64P2286X254_2X8_2032X2540X254B_1_DEPTH)


with BuildPart() as body_34:
    # Sketch34 → HDRVR6W64P254_1X6_1524X254X762B-1 (new body)
    with BuildSketch(Plane.XY):
        with Locations((41.563, 16.8275)):
            Rectangle(SKETCH34_W, SKETCH34_H)
    extrude(amount=-HDRVR6W64P254_1X6_1524X254X762B_1_DEPTH)


solid = Compound([part.part, body_2.part, body_3.part, body_4.part, body_5.part, body_6.part, body_7.part, body_8.part, body_9.part, body_10.part, body_11.part, body_12.part, body_13.part, body_14.part, body_15.part, body_16.part, body_17.part, body_18.part, body_19.part, body_20.part, body_21.part, body_22.part, body_23.part, body_24.part, body_25.part, body_26.part, body_27.part, body_28.part, body_29.part, body_30.part, body_31.part, body_32.part, body_33.part, body_34.part])
